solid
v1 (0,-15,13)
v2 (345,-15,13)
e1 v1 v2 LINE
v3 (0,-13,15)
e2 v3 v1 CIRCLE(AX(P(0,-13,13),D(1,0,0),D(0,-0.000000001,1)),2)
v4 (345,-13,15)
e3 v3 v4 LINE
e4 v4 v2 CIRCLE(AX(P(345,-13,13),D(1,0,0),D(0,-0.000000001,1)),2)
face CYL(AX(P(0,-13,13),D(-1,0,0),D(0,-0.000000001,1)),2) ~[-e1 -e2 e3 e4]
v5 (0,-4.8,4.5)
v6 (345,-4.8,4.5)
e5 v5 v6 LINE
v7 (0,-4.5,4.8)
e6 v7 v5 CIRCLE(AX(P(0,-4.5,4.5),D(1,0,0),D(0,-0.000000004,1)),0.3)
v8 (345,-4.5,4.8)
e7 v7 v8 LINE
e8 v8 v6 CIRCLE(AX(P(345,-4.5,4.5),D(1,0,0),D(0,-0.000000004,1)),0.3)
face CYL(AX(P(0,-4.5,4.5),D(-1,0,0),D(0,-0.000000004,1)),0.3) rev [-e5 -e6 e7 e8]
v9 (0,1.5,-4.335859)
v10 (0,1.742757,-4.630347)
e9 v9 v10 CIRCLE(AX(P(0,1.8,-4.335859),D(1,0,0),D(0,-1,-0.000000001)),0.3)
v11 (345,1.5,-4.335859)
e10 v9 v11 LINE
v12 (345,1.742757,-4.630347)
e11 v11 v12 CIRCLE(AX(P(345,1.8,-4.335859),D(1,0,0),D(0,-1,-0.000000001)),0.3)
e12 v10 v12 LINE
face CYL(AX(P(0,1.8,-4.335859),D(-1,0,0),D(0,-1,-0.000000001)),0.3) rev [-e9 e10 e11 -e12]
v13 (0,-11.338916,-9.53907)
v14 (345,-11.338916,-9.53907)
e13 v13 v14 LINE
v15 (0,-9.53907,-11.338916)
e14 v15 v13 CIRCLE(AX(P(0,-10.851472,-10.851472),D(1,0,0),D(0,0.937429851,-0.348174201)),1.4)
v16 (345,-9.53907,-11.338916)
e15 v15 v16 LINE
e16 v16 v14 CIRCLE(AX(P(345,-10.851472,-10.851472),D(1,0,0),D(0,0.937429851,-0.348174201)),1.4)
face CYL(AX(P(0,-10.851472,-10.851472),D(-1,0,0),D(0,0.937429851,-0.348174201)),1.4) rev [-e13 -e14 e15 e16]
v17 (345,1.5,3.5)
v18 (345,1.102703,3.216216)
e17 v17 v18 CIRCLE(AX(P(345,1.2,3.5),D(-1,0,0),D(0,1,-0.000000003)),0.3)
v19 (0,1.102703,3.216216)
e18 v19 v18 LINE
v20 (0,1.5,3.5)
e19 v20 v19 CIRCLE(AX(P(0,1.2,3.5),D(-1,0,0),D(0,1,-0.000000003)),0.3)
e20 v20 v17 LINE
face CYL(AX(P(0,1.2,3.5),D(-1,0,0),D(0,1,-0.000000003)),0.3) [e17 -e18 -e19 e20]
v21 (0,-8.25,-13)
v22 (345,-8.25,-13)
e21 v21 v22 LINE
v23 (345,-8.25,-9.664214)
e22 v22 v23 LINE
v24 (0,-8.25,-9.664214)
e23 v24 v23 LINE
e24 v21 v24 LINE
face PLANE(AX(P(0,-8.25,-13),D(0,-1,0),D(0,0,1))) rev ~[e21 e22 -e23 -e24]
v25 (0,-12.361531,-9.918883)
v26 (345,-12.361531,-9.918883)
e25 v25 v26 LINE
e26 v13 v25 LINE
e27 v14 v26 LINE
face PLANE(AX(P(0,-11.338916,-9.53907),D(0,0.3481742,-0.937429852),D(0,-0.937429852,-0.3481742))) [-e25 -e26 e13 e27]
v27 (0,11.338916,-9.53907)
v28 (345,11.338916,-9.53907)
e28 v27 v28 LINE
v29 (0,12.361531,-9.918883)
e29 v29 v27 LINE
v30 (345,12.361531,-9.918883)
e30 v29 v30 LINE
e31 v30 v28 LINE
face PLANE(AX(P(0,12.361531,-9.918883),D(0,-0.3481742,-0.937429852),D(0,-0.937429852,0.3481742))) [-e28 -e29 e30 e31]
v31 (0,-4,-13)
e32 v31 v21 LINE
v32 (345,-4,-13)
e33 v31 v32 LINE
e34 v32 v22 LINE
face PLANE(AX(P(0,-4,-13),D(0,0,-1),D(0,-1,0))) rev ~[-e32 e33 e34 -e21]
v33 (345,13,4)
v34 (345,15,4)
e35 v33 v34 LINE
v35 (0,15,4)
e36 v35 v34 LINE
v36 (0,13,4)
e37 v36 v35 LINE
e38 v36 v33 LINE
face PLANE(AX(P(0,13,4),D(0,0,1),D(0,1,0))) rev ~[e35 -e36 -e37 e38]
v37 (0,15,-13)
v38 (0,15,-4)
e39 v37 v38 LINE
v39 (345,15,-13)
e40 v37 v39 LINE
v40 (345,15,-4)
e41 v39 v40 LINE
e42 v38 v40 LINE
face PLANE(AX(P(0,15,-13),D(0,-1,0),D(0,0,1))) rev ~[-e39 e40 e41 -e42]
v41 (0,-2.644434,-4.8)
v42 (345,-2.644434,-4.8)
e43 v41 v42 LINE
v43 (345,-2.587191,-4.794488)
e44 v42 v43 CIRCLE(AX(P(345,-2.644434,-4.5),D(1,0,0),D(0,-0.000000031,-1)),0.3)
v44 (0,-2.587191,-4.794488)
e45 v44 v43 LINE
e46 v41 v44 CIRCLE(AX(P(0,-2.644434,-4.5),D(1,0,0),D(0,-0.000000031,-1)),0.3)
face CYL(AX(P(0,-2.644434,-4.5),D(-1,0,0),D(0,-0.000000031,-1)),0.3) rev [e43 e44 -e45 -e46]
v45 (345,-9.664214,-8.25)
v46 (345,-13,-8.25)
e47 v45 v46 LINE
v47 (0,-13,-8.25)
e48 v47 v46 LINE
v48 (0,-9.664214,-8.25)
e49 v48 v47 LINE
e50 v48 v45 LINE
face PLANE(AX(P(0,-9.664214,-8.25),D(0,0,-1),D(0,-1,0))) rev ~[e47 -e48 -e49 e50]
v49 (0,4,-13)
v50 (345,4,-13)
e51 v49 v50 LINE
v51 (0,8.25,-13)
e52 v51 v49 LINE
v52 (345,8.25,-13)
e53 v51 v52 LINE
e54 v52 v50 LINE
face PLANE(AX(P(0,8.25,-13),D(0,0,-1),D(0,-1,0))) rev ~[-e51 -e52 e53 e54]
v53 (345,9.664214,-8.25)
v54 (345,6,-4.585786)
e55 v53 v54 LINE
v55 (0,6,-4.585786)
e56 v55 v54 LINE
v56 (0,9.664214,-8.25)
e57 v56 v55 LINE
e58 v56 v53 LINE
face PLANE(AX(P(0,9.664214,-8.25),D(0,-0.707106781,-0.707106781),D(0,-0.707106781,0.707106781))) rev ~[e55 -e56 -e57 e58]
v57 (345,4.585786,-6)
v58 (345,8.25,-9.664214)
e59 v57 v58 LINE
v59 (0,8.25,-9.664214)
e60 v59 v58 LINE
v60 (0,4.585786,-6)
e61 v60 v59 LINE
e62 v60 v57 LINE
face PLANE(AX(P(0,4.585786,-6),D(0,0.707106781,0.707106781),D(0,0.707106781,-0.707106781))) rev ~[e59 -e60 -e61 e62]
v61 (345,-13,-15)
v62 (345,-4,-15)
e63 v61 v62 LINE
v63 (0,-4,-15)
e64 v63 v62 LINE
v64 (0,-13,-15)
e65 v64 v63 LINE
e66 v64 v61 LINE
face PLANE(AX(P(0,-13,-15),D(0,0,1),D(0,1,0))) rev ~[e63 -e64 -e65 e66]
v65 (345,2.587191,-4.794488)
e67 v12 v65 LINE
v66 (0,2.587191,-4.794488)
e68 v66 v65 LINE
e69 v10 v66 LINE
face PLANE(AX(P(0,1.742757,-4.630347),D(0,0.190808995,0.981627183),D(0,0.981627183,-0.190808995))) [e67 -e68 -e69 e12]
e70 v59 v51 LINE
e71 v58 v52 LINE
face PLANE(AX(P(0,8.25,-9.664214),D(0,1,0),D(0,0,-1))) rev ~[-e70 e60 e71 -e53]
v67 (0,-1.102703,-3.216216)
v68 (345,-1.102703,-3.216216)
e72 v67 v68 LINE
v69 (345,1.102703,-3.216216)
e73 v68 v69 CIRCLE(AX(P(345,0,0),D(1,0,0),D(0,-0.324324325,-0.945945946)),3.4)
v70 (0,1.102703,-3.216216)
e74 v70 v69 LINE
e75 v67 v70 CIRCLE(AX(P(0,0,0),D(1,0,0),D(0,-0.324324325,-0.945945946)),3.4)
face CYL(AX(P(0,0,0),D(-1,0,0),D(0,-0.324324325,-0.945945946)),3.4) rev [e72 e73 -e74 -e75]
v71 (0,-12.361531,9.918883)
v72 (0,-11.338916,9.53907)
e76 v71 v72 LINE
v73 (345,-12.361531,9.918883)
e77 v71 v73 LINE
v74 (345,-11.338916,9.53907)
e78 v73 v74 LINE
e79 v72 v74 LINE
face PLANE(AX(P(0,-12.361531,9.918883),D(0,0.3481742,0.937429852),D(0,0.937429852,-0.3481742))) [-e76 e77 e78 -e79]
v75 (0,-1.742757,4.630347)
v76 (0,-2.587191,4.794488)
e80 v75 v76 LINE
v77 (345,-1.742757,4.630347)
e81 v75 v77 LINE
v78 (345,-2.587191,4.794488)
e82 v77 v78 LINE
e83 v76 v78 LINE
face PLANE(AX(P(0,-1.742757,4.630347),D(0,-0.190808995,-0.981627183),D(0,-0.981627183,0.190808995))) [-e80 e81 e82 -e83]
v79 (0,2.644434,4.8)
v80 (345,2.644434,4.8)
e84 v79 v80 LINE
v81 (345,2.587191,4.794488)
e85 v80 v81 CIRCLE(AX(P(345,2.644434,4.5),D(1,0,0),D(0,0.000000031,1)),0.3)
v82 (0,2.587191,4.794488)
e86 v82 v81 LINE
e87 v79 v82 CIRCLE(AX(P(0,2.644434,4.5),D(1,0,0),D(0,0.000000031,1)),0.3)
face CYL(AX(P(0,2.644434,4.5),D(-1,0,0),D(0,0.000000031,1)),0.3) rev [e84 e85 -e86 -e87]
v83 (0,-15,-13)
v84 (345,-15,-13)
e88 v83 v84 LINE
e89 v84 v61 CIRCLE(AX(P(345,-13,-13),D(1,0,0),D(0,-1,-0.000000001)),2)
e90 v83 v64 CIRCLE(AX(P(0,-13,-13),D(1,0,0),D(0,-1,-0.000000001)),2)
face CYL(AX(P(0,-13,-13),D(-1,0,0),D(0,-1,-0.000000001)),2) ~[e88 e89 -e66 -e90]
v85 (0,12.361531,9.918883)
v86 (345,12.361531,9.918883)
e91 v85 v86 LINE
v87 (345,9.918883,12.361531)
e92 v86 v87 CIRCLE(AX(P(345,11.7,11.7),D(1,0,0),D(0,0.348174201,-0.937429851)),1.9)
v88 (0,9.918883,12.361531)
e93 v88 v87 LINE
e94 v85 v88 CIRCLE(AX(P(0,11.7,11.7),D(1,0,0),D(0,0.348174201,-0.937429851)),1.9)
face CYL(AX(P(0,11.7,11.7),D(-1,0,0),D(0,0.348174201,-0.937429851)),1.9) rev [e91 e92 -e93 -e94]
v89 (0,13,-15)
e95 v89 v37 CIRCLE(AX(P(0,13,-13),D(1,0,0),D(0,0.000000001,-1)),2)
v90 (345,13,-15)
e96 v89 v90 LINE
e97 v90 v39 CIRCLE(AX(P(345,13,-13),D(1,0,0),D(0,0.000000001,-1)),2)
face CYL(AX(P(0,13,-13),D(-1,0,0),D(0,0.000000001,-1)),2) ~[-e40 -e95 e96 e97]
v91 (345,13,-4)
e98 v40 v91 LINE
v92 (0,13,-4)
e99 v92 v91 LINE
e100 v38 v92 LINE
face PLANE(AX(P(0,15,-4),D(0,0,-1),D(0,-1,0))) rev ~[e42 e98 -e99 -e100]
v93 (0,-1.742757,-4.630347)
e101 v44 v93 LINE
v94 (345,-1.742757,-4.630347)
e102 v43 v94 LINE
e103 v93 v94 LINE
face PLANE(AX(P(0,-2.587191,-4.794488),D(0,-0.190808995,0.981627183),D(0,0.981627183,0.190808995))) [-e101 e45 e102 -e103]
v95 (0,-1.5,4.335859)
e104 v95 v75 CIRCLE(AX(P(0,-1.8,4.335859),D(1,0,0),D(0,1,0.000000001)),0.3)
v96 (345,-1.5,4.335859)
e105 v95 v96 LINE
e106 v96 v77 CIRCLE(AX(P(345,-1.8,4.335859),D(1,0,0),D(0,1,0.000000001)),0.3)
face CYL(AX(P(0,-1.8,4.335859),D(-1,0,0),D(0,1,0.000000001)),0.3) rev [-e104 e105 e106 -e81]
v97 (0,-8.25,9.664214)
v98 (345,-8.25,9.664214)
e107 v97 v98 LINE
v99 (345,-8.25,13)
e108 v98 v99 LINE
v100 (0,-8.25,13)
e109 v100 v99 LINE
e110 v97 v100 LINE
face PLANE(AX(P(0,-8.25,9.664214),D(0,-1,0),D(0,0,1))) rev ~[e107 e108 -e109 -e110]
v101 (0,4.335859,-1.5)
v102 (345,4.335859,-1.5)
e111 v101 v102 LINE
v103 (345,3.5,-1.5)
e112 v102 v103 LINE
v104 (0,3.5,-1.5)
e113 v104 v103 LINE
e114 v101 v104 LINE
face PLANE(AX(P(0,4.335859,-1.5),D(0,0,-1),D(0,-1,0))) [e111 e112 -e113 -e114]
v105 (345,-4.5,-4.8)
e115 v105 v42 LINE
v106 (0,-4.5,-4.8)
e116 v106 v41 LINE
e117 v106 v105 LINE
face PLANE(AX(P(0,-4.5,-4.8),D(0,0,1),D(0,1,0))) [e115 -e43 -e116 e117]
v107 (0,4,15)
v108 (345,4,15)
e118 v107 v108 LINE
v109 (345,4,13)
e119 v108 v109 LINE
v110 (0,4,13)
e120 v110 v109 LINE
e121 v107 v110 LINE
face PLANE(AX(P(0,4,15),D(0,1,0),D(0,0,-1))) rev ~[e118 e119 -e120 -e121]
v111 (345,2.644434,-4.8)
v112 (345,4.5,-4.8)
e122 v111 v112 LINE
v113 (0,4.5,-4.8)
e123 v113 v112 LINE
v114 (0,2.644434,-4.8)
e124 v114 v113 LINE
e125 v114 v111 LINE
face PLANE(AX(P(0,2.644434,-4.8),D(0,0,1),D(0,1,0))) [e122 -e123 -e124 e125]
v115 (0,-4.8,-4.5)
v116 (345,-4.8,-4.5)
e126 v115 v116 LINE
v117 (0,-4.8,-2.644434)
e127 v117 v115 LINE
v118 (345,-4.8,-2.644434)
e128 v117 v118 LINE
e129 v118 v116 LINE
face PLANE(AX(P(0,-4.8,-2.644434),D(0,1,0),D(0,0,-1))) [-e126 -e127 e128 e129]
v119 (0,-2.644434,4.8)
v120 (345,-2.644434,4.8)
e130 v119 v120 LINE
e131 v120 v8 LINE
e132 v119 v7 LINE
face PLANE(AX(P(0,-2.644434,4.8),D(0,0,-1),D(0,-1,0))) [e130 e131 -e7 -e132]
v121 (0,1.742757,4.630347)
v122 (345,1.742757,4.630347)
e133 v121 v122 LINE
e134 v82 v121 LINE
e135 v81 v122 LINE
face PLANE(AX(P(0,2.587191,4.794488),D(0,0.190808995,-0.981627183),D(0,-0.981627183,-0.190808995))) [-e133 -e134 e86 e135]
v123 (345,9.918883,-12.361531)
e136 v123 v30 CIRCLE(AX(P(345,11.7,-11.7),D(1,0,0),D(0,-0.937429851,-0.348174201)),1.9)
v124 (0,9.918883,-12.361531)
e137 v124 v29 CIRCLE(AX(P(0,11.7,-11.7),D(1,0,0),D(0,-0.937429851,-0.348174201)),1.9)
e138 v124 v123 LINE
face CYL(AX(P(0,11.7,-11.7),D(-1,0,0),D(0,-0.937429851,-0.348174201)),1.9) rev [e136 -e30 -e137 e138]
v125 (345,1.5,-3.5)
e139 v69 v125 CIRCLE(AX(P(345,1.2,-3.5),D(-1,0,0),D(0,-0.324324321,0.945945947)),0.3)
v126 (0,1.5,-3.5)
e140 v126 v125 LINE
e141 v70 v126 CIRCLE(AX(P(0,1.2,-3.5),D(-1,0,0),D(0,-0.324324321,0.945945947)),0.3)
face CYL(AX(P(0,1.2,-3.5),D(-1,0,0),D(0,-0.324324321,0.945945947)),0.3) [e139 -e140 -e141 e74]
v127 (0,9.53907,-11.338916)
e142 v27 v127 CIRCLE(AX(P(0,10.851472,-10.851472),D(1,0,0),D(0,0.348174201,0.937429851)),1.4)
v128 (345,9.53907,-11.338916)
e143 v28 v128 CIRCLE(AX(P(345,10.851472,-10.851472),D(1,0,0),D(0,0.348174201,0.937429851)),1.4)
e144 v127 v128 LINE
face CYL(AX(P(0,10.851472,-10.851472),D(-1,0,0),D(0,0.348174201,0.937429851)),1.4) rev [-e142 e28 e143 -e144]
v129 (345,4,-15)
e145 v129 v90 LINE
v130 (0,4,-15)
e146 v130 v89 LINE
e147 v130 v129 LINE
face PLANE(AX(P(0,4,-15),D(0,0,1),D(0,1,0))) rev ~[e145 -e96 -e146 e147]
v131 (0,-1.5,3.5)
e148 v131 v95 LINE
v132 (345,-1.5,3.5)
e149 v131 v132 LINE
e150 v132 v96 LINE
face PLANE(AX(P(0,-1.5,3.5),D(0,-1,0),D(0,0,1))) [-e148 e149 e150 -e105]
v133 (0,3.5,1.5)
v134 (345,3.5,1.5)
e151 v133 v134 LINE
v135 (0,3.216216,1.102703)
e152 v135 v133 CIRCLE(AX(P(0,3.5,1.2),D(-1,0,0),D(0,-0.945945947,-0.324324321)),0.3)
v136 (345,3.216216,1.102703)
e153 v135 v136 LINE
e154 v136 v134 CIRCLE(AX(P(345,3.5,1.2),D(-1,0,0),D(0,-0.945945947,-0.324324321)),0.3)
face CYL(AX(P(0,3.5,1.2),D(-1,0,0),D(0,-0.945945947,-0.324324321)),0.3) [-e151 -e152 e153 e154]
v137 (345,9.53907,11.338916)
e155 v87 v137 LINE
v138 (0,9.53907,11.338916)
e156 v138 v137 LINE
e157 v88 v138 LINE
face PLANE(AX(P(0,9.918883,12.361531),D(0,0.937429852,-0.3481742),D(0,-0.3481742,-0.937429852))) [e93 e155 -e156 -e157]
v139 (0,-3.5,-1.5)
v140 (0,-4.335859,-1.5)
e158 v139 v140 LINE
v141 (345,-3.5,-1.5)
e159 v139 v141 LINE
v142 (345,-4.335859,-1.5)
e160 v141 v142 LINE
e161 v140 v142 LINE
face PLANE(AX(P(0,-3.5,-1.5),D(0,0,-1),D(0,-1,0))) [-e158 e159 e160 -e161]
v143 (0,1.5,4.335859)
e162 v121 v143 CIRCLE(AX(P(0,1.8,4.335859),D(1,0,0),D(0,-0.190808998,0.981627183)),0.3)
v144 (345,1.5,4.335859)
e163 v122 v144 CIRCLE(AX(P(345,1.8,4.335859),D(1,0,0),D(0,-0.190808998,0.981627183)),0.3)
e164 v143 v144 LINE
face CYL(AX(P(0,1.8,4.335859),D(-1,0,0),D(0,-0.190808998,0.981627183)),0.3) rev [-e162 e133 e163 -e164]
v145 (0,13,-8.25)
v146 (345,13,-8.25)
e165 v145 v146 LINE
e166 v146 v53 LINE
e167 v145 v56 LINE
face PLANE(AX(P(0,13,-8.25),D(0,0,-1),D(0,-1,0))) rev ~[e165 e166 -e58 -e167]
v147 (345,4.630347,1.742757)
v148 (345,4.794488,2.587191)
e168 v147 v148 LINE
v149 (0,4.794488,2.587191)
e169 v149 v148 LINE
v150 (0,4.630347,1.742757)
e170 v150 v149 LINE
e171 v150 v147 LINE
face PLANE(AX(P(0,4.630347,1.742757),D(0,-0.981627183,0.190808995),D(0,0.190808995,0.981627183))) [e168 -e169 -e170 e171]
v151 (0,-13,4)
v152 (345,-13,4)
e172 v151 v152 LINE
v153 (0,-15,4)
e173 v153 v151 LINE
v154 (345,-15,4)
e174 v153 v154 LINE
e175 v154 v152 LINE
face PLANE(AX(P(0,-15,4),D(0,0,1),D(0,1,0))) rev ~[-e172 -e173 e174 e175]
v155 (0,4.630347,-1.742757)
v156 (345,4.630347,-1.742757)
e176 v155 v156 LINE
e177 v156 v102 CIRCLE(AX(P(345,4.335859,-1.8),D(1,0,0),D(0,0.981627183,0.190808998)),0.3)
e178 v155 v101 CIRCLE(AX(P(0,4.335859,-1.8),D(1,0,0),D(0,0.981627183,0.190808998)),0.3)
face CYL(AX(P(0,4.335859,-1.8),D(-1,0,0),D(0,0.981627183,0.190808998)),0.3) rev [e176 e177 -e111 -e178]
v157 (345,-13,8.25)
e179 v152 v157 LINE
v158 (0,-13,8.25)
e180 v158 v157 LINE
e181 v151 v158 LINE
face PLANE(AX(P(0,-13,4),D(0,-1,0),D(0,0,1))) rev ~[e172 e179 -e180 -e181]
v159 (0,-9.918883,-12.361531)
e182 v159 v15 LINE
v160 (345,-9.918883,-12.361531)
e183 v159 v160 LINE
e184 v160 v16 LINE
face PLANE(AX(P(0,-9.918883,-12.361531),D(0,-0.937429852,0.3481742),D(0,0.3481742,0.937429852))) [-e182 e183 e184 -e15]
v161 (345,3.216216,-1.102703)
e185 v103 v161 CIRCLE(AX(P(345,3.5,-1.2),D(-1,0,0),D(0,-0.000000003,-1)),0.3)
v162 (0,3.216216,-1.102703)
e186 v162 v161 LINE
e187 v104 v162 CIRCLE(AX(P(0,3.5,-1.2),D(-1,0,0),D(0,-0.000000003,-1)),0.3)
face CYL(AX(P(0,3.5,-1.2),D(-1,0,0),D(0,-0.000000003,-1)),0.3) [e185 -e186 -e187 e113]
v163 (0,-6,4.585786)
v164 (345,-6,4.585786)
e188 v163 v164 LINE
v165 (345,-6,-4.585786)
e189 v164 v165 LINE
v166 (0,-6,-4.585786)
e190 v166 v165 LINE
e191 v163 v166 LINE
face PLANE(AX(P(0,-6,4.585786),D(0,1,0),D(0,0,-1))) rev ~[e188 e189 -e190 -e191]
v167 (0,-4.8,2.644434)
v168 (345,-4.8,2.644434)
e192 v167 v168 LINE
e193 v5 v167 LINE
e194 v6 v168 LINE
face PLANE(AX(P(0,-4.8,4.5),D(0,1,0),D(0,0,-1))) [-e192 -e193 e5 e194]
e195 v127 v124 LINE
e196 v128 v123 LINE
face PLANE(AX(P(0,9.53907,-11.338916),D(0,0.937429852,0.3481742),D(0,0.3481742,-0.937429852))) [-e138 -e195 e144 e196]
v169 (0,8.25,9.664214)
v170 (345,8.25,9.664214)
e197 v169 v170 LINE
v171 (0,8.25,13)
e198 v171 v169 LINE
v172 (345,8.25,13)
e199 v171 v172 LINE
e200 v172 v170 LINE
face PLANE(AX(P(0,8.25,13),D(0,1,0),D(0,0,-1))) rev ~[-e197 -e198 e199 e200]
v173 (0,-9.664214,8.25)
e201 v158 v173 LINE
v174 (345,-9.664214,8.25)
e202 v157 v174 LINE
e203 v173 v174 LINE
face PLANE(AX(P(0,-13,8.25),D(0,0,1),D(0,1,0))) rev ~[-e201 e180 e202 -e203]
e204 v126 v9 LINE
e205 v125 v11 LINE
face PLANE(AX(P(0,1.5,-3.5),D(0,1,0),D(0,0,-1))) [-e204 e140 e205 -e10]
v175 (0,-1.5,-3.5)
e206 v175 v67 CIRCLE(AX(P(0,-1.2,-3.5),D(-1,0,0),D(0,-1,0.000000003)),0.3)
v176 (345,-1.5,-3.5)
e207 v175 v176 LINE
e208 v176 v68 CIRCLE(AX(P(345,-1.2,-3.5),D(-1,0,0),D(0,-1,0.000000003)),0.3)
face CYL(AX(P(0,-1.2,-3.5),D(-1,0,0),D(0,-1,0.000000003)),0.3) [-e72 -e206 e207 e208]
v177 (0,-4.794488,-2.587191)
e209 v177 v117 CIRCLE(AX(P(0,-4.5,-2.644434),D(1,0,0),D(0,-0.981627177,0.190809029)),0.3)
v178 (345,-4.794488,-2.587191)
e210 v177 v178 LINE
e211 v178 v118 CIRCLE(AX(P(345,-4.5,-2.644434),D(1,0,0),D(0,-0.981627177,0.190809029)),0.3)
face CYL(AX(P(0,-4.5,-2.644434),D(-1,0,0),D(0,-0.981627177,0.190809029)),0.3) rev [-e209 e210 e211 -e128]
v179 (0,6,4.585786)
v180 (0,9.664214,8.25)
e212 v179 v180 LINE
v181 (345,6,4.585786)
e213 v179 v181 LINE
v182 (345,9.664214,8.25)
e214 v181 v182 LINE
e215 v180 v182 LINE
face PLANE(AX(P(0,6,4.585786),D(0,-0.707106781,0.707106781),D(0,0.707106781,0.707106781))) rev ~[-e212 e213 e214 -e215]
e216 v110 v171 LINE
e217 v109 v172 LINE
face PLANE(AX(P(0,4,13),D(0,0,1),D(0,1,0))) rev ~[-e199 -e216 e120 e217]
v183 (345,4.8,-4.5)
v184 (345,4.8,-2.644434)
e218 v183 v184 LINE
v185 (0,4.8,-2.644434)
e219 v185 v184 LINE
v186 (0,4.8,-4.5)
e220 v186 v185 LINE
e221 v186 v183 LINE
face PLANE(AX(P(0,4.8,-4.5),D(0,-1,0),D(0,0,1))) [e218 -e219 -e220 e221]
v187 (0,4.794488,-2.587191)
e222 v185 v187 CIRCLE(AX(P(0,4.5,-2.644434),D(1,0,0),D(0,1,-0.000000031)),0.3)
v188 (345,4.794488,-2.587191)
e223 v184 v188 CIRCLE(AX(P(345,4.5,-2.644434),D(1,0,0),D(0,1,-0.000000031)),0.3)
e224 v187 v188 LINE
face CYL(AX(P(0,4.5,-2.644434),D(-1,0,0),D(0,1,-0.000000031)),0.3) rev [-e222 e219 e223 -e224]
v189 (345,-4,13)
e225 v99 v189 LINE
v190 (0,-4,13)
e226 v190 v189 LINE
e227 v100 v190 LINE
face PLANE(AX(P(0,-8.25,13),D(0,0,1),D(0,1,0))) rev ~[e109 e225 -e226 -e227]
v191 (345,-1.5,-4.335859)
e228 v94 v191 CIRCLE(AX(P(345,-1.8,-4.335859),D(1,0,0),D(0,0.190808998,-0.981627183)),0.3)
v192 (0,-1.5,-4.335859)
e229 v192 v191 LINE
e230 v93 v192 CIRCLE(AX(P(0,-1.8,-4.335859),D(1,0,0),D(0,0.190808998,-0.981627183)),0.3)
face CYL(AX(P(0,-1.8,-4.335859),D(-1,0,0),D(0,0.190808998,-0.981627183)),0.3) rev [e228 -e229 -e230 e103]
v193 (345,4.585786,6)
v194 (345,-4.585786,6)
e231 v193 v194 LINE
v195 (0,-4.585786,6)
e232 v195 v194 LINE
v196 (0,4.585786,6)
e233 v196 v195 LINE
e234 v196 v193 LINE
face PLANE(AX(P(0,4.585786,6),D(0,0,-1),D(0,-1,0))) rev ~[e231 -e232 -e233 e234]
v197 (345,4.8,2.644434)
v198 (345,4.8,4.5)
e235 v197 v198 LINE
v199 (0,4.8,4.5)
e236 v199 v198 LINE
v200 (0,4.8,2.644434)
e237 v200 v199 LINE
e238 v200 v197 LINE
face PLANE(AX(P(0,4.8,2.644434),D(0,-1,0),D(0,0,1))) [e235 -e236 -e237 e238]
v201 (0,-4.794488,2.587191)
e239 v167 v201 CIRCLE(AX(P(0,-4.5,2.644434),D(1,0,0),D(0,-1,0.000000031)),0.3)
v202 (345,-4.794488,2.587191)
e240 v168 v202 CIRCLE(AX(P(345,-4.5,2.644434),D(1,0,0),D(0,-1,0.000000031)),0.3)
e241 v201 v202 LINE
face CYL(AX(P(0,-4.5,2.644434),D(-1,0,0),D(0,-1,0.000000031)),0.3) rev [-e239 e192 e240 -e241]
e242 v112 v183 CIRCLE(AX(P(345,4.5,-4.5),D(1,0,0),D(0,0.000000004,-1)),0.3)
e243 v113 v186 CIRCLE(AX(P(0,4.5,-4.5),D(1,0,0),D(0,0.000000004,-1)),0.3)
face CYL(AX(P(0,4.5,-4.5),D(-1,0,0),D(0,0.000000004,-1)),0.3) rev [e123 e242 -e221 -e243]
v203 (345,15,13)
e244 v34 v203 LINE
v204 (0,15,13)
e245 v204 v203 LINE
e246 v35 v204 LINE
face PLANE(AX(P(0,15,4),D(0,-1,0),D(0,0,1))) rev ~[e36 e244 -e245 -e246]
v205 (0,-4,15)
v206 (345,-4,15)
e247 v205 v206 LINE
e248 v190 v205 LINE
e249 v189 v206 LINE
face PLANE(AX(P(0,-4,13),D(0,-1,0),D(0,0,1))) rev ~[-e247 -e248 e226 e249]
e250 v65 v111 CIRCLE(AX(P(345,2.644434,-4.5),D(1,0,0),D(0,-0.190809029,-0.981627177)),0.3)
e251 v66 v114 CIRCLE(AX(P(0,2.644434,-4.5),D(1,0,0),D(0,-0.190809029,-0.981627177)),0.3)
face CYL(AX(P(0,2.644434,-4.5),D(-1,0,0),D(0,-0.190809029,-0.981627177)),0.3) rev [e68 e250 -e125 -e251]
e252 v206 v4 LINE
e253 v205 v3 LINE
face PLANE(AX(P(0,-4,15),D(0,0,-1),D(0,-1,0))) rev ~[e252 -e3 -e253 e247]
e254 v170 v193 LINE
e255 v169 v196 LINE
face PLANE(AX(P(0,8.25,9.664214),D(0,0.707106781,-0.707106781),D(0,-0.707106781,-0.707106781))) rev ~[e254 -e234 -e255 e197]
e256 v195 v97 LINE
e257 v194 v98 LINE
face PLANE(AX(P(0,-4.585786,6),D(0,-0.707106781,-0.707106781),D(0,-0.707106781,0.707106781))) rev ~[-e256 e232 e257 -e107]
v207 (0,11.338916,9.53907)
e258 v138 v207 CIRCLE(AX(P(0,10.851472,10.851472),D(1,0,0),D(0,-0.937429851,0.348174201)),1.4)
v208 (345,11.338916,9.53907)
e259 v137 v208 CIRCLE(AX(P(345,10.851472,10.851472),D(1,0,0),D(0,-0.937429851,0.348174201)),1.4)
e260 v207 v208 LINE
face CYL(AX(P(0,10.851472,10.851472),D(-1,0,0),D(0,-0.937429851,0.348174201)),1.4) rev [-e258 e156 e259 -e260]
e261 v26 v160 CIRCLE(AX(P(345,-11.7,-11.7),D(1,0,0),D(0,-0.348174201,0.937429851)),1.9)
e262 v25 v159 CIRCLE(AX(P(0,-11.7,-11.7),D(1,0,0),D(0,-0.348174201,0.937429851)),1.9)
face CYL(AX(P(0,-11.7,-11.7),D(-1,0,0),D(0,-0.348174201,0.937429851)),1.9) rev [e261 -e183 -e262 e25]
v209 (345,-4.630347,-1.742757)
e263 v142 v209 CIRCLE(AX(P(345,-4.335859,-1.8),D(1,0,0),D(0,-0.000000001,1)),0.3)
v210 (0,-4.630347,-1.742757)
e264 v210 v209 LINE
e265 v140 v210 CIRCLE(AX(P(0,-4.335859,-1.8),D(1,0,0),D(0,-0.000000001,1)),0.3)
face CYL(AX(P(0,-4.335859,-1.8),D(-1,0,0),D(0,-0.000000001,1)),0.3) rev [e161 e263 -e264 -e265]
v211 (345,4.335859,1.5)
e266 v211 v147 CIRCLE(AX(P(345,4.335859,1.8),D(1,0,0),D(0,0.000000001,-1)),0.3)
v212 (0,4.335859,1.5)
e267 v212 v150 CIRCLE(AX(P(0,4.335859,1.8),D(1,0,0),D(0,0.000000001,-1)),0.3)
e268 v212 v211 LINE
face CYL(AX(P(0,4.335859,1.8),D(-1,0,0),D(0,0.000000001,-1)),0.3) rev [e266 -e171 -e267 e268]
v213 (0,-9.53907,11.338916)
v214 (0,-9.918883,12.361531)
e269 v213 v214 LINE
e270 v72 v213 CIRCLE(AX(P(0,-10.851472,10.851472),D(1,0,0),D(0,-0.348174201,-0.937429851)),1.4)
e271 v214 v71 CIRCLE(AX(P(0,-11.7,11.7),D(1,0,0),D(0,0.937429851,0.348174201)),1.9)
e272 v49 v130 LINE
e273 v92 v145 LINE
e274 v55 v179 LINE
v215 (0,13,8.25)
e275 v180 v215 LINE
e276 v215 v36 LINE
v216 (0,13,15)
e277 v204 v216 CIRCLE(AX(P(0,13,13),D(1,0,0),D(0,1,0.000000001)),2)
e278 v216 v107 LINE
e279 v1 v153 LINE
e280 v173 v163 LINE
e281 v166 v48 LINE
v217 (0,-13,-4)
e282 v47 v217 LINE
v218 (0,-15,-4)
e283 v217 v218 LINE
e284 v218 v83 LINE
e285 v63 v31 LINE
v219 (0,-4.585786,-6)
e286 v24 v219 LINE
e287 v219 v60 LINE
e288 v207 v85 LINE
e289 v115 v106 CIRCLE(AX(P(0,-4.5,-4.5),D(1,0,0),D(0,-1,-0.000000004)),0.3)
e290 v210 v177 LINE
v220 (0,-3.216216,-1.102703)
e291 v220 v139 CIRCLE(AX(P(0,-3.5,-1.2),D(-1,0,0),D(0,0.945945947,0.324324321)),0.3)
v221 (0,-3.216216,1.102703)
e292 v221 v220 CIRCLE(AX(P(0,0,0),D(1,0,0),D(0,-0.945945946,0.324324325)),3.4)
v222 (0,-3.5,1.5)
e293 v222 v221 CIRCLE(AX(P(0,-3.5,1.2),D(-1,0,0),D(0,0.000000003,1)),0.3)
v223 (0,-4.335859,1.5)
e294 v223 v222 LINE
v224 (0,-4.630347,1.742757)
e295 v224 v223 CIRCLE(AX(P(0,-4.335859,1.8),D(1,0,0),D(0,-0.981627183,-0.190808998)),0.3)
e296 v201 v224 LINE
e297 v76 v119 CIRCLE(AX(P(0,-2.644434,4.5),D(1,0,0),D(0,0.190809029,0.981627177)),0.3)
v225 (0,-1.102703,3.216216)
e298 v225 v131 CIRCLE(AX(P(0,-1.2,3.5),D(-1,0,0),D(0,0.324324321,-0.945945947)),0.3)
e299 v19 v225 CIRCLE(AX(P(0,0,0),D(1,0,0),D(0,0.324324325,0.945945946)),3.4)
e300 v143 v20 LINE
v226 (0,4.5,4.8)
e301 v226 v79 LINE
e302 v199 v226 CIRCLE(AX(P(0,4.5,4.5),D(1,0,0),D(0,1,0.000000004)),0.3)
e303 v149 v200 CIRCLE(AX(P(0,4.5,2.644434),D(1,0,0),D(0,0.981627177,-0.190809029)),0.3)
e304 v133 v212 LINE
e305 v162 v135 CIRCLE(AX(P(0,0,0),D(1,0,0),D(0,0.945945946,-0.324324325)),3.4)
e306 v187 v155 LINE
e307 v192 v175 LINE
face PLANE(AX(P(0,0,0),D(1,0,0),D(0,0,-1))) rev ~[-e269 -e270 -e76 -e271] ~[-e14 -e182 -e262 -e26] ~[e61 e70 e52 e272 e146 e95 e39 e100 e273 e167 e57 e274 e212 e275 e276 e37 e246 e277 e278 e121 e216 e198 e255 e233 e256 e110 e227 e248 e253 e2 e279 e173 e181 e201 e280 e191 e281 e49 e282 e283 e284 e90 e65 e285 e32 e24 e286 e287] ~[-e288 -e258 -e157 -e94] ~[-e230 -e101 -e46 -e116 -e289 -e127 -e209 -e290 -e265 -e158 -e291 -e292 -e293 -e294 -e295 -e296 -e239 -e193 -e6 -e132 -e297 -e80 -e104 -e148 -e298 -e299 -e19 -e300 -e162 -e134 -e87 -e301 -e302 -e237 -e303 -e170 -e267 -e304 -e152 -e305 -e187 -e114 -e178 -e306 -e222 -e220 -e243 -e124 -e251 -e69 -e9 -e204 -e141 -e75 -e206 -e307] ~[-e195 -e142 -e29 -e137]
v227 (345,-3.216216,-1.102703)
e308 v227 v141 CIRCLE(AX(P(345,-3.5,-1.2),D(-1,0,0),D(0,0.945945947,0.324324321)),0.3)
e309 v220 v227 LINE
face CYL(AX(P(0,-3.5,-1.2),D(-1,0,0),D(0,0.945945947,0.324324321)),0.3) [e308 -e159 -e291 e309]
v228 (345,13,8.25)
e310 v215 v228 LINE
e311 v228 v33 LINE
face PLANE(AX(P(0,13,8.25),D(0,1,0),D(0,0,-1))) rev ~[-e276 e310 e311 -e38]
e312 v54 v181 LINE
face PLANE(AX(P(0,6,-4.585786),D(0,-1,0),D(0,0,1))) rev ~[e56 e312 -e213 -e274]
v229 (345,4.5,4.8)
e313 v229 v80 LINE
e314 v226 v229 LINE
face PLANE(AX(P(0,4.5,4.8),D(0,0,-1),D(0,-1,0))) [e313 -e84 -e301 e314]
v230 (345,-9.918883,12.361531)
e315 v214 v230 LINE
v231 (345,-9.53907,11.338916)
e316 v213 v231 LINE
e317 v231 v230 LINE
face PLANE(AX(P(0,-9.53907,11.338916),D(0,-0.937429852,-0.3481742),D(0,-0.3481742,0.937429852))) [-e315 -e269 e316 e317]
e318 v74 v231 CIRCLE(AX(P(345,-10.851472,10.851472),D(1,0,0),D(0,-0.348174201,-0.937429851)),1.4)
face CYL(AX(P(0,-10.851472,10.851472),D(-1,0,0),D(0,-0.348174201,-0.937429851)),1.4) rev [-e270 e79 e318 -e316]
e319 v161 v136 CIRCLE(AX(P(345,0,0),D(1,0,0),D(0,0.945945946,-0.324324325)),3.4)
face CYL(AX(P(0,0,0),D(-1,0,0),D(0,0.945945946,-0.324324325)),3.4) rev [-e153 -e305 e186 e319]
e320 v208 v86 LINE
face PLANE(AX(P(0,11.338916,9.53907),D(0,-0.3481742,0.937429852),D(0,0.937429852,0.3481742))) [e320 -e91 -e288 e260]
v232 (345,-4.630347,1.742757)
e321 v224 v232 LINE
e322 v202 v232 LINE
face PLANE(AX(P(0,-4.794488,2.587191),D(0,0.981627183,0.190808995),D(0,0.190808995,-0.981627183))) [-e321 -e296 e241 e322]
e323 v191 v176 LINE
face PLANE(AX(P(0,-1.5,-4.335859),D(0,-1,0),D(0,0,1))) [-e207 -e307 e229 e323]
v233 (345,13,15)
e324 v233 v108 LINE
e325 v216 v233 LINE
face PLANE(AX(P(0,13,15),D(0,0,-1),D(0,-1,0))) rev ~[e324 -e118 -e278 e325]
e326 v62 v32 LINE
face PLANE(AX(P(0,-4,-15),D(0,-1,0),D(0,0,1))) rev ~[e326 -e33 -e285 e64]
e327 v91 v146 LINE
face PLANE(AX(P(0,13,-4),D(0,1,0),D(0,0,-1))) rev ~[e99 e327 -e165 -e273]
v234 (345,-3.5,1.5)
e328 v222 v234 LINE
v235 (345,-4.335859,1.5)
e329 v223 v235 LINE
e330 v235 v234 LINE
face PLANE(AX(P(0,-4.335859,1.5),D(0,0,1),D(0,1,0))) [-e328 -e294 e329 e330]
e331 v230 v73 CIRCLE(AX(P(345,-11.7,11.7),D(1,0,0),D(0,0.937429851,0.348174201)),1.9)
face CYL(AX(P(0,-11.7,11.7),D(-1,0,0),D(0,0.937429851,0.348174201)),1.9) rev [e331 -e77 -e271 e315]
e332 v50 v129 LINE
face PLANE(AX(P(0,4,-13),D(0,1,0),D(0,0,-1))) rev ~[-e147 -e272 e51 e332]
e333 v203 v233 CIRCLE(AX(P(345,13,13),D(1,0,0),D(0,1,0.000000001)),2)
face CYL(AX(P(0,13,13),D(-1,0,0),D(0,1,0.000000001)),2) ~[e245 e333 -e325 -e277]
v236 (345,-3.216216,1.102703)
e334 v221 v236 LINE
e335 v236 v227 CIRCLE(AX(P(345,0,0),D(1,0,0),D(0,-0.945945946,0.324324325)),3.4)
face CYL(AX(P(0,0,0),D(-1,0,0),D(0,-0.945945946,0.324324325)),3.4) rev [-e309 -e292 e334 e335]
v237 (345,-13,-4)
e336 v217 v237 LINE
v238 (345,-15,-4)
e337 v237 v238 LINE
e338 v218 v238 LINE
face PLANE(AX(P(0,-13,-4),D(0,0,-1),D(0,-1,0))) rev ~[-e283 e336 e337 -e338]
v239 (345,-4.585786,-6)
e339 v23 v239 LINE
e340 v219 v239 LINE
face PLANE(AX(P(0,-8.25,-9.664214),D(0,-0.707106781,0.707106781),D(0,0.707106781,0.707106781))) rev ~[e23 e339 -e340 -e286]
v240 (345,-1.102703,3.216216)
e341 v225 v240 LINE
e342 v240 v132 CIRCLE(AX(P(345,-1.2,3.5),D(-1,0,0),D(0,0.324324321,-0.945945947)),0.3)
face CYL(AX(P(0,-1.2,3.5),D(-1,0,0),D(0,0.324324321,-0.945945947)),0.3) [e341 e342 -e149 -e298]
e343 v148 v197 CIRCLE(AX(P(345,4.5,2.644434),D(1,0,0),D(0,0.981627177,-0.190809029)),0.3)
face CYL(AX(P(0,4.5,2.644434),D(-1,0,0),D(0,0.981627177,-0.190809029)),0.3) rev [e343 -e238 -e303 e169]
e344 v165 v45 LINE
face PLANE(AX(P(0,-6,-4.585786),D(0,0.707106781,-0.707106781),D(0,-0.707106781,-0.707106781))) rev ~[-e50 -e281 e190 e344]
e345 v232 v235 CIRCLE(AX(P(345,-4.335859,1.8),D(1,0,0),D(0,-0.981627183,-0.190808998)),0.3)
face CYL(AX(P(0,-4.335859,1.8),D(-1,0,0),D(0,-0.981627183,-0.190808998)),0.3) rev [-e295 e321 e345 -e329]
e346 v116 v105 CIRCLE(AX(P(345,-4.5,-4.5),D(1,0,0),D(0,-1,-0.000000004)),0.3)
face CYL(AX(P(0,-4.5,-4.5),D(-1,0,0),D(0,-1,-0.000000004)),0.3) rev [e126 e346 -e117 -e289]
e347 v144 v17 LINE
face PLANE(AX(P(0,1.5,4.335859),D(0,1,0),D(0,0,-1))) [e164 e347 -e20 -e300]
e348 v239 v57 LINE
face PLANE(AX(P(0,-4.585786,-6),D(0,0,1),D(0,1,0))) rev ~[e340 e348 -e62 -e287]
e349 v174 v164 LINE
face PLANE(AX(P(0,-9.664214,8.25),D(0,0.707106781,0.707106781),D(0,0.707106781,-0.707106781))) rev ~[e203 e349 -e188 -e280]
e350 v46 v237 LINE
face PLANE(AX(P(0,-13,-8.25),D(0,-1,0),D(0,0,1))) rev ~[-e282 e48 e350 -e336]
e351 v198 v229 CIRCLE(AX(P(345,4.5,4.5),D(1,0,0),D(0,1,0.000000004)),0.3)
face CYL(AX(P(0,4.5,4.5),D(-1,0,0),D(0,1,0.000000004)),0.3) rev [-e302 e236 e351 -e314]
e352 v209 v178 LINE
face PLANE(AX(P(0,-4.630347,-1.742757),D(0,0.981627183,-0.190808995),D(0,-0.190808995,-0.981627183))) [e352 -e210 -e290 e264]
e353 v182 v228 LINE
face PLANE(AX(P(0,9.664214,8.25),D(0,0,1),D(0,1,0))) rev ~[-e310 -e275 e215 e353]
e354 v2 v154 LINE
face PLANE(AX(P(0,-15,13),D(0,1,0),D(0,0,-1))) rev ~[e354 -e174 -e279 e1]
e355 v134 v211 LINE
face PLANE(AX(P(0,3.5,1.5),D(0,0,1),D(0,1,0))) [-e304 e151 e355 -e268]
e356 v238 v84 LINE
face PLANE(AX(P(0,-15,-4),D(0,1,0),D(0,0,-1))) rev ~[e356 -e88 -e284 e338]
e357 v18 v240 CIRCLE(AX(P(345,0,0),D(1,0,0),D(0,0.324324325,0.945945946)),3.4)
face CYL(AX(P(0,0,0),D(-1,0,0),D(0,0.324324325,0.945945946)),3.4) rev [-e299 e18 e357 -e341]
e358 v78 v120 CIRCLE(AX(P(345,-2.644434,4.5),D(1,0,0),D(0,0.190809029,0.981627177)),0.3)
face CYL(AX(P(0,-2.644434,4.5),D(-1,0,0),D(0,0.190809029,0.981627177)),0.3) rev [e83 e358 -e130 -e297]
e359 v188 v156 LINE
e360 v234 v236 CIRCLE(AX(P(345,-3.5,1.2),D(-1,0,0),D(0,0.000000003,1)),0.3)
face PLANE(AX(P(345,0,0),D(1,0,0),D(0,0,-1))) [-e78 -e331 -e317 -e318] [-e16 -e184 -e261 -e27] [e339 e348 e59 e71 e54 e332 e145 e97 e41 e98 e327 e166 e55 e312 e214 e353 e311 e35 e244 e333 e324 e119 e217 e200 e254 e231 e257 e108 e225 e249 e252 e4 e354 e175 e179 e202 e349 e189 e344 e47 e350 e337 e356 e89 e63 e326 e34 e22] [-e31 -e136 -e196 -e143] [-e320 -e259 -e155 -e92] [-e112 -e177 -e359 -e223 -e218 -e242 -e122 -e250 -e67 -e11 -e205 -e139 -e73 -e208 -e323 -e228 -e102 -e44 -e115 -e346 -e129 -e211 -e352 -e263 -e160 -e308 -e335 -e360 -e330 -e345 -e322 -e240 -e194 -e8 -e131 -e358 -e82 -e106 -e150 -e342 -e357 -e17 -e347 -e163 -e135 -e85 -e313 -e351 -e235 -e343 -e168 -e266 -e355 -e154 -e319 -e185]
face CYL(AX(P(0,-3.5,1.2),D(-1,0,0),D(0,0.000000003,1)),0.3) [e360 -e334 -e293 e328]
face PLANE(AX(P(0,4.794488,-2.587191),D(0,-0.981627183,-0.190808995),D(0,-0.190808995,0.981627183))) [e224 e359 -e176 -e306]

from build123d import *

# Parameters (mm, degrees)
BOSS_EXTRUDE1_DEPTH = 345


with BuildPart() as part:
    # Sketch1 → Boss-Extrude1 (new body)
    with BuildSketch(Plane(origin=(0, 0, 0), x_dir=(0, 0, -1), z_dir=(1, 0, 0))):
        with BuildLine():
            Line((-15, 13), (-15, 4))
            Line((-15, 4), (-13, 4))
            Line((-13, 4), (-13, 8.25))
            Line((-13, 8.25), (-9.664213562, 8.25))
            Line((-9.664213562, 8.25), (-6, 4.585786438))
            Line((-6, 4.585786438), (-6, -4.585786438))
            Line((-6, -4.585786438), (-9.664213562, -8.25))
            Line((-9.664213562, -8.25), (-13, -8.25))
            Line((-13, -8.25), (-13, -4))
            Line((-13, -4), (-15, -4))
            Line((-15, -4), (-15, -13))
            ThreePointArc((-15, -13), (-14.414213562, -14.414213562), (-13, -15))
            Line((-13, -15), (-4, -15))
            Line((-4, -15), (-4, -13))
            Line((-4, -13), (-8.25, -13))
            Line((-8.25, -13), (-8.25, -9.664213562))
            Line((-8.25, -9.664213562), (-4.585786438, -6))
            Line((-4.585786438, -6), (4.585786438, -6))
            Line((4.585786438, -6), (8.25, -9.664213562))
            Line((8.25, -9.664213562), (8.25, -13))
            Line((8.25, -13), (4, -13))
            Line((4, -13), (4, -15))
            Line((4, -15), (13, -15))
            ThreePointArc((13, -15), (14.414213562, -14.414213562), (15, -13))
            Line((15, -13), (15, -4))
            Line((15, -4), (13, -4))
            Line((13, -4), (13, -8.25))
            Line((13, -8.25), (9.664213562, -8.25))
            Line((9.664213562, -8.25), (6, -4.585786438))
            Line((6, -4.585786438), (6, 4.585786438))
            Line((6, 4.585786438), (9.664213562, 8.25))
            Line((9.664213562, 8.25), (13, 8.25))
            Line((13, 8.25), (13, 4))
            Line((13, 4), (15, 4))
            Line((15, 4), (15, 13))
            ThreePointArc((15, 13), (14.414213562, 14.414213562), (13, 15))
            Line((13, 15), (4, 15))
            Line((4, 15), (4, 13))
            Line((4, 13), (8.25, 13))
            Line((8.25, 13), (8.25, 9.664213562))
            Line((8.25, 9.664213562), (4.585786438, 6))
            Line((4.585786438, 6), (-4.585786438, 6))
            Line((-4.585786438, 6), (-8.25, 9.664213562))
            Line((-8.25, 9.664213562), (-8.25, 13))
            Line((-8.25, 13), (-4, 13))
            Line((-4, 13), (-4, 15))
            Line((-4, 15), (-13, 15))
            ThreePointArc((-13, 15), (-14.414213562, 14.414213562), (-15, 13))
        make_face()
        with BuildLine():
            Line((-9.539070071, 11.338915743), (-9.918883282, 12.361530981))
            ThreePointArc((-9.918883282, 12.361530981), (-13.043502884, 13.043502884), (-12.361530981, 9.918883282))
            Line((-12.361530981, 9.918883282), (-11.338915743, 9.539070071))
            ThreePointArc((-11.338915743, 9.539070071), (-9.861522369, 9.861522369), (-9.539070071, 11.338915743))
        make_face(mode=Mode.SUBTRACT)
        with BuildLine():
            Line((9.918883282, 12.361530981), (9.539070071, 11.338915743))
            ThreePointArc((9.539070071, 11.338915743), (9.861522369, 9.861522369), (11.338915743, 9.539070071))
            Line((11.338915743, 9.539070071), (12.361530981, 9.918883282))
            ThreePointArc((12.361530981, 9.918883282), (13.043502884, 13.043502884), (9.918883282, 12.361530981))
        make_face(mode=Mode.SUBTRACT)
        with BuildLine():
            Line((12.361530981, -9.918883282), (11.338915743, -9.539070071))
            ThreePointArc((11.338915743, -9.539070071), (9.861522369, -9.861522369), (9.539070071, -11.338915743))
            Line((9.539070071, -11.338915743), (9.918883282, -12.361530981))
            ThreePointArc((9.918883282, -12.361530981), (13.043502884, -13.043502884), (12.361530981, -9.918883282))
        make_face(mode=Mode.SUBTRACT)
        with BuildLine():
            Line((-11.338915743, -9.539070071), (-12.361530981, -9.918883282))
            ThreePointArc((-12.361530981, -9.918883282), (-13.043502884, -13.043502884), (-9.918883282, -12.361530981))
            Line((-9.918883282, -12.361530981), (-9.539070071, -11.338915743))
            ThreePointArc((-9.539070071, -11.338915743), (-9.861522369, -9.861522369), (-11.338915743, -9.539070071))
        make_face(mode=Mode.SUBTRACT)
        with BuildLine():
            Line((-4.8, -2.644433572), (-4.8, -4.5))
            ThreePointArc((-4.8, -4.5), (-4.712132034, -4.712132034), (-4.5, -4.8))
            Line((-4.5, -4.8), (-2.644433572, -4.8))
            ThreePointArc((-2.644433572, -4.8), (-2.615679847, -4.79861886), (-2.587190874, -4.794488155))
            Line((-2.587190874, -4.794488155), (-1.742757301, -4.630346896))
            ThreePointArc((-1.742757301, -4.630346896), (-1.568512625, -4.526682207), (-1.5, -4.335858741))
            Line((-1.5, -4.335858741), (-1.5, -3.5))
            ThreePointArc((-1.5, -3.5), (-1.374371458, -3.255879959), (-1.102702703, -3.216216216))
            ThreePointArc((-1.102702703, -3.216216216), (0, -3.4), (1.102702703, -3.216216216))
            ThreePointArc((1.102702703, -3.216216216), (1.374371458, -3.255879959), (1.5, -3.5))
            Line((1.5, -3.5), (1.5, -4.335858741))
            ThreePointArc((1.5, -4.335858741), (1.568512625, -4.526682207), (1.742757301, -4.630346896))
            Line((1.742757301, -4.630346896), (2.587190874, -4.794488155))
            ThreePointArc((2.587190874, -4.794488155), (2.615679847, -4.79861886), (2.644433572, -4.8))
            Line((2.644433572, -4.8), (4.5, -4.8))
            ThreePointArc((4.5, -4.8), (4.712132034, -4.712132034), (4.8, -4.5))
            Line((4.8, -4.5), (4.8, -2.644433572))
            ThreePointArc((4.8, -2.644433572), (4.79861886, -2.615679847), (4.794488155, -2.587190874))
            Line((4.794488155, -2.587190874), (4.630346896, -1.742757301))
            ThreePointArc((4.630346896, -1.742757301), (4.526682207, -1.568512625), (4.335858741, -1.5))
            Line((4.335858741, -1.5), (3.5, -1.5))
            ThreePointArc((3.5, -1.5), (3.255879959, -1.374371458), (3.216216216, -1.102702703))
            ThreePointArc((3.216216216, -1.102702703), (3.4, 0), (3.216216216, 1.102702703))
            ThreePointArc((3.216216216, 1.102702703), (3.255879959, 1.374371458), (3.5, 1.5))
            Line((3.5, 1.5), (4.335858741, 1.5))
            ThreePointArc((4.335858741, 1.5), (4.526682207, 1.568512625), (4.630346896, 1.742757301))
            Line((4.630346896, 1.742757301), (4.794488155, 2.587190874))
            ThreePointArc((4.794488155, 2.587190874), (4.79861886, 2.615679847), (4.8, 2.644433572))
            Line((4.8, 2.644433572), (4.8, 4.5))
            ThreePointArc((4.8, 4.5), (4.712132034, 4.712132034), (4.5, 4.8))
            Line((4.5, 4.8), (2.644433572, 4.8))
            ThreePointArc((2.644433572, 4.8), (2.615679847, 4.79861886), (2.587190874, 4.794488155))
            Line((2.587190874, 4.794488155), (1.742757301, 4.630346896))
            ThreePointArc((1.742757301, 4.630346896), (1.568512625, 4.526682207), (1.5, 4.335858741))
            Line((1.5, 4.335858741), (1.5, 3.5))
            ThreePointArc((1.5, 3.5), (1.374371458, 3.255879959), (1.102702703, 3.216216216))
            ThreePointArc((1.102702703, 3.216216216), (0, 3.4), (-1.102702703, 3.216216216))
            ThreePointArc((-1.102702703, 3.216216216), (-1.374371458, 3.255879959), (-1.5, 3.5))
            Line((-1.5, 3.5), (-1.5, 4.335858741))
            ThreePointArc((-1.5, 4.335858741), (-1.568512625, 4.526682207), (-1.742757301, 4.630346896))
            Line((-1.742757301, 4.630346896), (-2.587190874, 4.794488155))
            ThreePointArc((-2.587190874, 4.794488155), (-2.615679847, 4.79861886), (-2.644433572, 4.8))
            Line((-2.644433572, 4.8), (-4.5, 4.8))
            ThreePointArc((-4.5, 4.8), (-4.712132034, 4.712132034), (-4.8, 4.5))
            Line((-4.8, 4.5), (-4.8, 2.644433572))
            ThreePointArc((-4.8, 2.644433572), (-4.79861886, 2.615679847), (-4.794488155, 2.587190874))
            Line((-4.794488155, 2.587190874), (-4.630346896, 1.742757301))
            ThreePointArc((-4.630346896, 1.742757301), (-4.526682207, 1.568512625), (-4.335858741, 1.5))
            Line((-4.335858741, 1.5), (-3.5, 1.5))
            ThreePointArc((-3.5, 1.5), (-3.255879959, 1.374371458), (-3.216216216, 1.102702703))
            ThreePointArc((-3.216216216, 1.102702703), (-3.4, 0), (-3.216216216, -1.102702703))
            ThreePointArc((-3.216216216, -1.102702703), (-3.255879959, -1.374371458), (-3.5, -1.5))
            Line((-3.5, -1.5), (-4.335858741, -1.5))
            ThreePointArc((-4.335858741, -1.5), (-4.526682207, -1.568512625), (-4.630346896, -1.742757301))
            Line((-4.630346896, -1.742757301), (-4.794488155, -2.587190874))
            ThreePointArc((-4.794488155, -2.587190874), (-4.79861886, -2.615679847), (-4.8, -2.644433572))
        make_face(mode=Mode.SUBTRACT)
    extrude(amount=BOSS_EXTRUDE1_DEPTH)


solid = part.part
